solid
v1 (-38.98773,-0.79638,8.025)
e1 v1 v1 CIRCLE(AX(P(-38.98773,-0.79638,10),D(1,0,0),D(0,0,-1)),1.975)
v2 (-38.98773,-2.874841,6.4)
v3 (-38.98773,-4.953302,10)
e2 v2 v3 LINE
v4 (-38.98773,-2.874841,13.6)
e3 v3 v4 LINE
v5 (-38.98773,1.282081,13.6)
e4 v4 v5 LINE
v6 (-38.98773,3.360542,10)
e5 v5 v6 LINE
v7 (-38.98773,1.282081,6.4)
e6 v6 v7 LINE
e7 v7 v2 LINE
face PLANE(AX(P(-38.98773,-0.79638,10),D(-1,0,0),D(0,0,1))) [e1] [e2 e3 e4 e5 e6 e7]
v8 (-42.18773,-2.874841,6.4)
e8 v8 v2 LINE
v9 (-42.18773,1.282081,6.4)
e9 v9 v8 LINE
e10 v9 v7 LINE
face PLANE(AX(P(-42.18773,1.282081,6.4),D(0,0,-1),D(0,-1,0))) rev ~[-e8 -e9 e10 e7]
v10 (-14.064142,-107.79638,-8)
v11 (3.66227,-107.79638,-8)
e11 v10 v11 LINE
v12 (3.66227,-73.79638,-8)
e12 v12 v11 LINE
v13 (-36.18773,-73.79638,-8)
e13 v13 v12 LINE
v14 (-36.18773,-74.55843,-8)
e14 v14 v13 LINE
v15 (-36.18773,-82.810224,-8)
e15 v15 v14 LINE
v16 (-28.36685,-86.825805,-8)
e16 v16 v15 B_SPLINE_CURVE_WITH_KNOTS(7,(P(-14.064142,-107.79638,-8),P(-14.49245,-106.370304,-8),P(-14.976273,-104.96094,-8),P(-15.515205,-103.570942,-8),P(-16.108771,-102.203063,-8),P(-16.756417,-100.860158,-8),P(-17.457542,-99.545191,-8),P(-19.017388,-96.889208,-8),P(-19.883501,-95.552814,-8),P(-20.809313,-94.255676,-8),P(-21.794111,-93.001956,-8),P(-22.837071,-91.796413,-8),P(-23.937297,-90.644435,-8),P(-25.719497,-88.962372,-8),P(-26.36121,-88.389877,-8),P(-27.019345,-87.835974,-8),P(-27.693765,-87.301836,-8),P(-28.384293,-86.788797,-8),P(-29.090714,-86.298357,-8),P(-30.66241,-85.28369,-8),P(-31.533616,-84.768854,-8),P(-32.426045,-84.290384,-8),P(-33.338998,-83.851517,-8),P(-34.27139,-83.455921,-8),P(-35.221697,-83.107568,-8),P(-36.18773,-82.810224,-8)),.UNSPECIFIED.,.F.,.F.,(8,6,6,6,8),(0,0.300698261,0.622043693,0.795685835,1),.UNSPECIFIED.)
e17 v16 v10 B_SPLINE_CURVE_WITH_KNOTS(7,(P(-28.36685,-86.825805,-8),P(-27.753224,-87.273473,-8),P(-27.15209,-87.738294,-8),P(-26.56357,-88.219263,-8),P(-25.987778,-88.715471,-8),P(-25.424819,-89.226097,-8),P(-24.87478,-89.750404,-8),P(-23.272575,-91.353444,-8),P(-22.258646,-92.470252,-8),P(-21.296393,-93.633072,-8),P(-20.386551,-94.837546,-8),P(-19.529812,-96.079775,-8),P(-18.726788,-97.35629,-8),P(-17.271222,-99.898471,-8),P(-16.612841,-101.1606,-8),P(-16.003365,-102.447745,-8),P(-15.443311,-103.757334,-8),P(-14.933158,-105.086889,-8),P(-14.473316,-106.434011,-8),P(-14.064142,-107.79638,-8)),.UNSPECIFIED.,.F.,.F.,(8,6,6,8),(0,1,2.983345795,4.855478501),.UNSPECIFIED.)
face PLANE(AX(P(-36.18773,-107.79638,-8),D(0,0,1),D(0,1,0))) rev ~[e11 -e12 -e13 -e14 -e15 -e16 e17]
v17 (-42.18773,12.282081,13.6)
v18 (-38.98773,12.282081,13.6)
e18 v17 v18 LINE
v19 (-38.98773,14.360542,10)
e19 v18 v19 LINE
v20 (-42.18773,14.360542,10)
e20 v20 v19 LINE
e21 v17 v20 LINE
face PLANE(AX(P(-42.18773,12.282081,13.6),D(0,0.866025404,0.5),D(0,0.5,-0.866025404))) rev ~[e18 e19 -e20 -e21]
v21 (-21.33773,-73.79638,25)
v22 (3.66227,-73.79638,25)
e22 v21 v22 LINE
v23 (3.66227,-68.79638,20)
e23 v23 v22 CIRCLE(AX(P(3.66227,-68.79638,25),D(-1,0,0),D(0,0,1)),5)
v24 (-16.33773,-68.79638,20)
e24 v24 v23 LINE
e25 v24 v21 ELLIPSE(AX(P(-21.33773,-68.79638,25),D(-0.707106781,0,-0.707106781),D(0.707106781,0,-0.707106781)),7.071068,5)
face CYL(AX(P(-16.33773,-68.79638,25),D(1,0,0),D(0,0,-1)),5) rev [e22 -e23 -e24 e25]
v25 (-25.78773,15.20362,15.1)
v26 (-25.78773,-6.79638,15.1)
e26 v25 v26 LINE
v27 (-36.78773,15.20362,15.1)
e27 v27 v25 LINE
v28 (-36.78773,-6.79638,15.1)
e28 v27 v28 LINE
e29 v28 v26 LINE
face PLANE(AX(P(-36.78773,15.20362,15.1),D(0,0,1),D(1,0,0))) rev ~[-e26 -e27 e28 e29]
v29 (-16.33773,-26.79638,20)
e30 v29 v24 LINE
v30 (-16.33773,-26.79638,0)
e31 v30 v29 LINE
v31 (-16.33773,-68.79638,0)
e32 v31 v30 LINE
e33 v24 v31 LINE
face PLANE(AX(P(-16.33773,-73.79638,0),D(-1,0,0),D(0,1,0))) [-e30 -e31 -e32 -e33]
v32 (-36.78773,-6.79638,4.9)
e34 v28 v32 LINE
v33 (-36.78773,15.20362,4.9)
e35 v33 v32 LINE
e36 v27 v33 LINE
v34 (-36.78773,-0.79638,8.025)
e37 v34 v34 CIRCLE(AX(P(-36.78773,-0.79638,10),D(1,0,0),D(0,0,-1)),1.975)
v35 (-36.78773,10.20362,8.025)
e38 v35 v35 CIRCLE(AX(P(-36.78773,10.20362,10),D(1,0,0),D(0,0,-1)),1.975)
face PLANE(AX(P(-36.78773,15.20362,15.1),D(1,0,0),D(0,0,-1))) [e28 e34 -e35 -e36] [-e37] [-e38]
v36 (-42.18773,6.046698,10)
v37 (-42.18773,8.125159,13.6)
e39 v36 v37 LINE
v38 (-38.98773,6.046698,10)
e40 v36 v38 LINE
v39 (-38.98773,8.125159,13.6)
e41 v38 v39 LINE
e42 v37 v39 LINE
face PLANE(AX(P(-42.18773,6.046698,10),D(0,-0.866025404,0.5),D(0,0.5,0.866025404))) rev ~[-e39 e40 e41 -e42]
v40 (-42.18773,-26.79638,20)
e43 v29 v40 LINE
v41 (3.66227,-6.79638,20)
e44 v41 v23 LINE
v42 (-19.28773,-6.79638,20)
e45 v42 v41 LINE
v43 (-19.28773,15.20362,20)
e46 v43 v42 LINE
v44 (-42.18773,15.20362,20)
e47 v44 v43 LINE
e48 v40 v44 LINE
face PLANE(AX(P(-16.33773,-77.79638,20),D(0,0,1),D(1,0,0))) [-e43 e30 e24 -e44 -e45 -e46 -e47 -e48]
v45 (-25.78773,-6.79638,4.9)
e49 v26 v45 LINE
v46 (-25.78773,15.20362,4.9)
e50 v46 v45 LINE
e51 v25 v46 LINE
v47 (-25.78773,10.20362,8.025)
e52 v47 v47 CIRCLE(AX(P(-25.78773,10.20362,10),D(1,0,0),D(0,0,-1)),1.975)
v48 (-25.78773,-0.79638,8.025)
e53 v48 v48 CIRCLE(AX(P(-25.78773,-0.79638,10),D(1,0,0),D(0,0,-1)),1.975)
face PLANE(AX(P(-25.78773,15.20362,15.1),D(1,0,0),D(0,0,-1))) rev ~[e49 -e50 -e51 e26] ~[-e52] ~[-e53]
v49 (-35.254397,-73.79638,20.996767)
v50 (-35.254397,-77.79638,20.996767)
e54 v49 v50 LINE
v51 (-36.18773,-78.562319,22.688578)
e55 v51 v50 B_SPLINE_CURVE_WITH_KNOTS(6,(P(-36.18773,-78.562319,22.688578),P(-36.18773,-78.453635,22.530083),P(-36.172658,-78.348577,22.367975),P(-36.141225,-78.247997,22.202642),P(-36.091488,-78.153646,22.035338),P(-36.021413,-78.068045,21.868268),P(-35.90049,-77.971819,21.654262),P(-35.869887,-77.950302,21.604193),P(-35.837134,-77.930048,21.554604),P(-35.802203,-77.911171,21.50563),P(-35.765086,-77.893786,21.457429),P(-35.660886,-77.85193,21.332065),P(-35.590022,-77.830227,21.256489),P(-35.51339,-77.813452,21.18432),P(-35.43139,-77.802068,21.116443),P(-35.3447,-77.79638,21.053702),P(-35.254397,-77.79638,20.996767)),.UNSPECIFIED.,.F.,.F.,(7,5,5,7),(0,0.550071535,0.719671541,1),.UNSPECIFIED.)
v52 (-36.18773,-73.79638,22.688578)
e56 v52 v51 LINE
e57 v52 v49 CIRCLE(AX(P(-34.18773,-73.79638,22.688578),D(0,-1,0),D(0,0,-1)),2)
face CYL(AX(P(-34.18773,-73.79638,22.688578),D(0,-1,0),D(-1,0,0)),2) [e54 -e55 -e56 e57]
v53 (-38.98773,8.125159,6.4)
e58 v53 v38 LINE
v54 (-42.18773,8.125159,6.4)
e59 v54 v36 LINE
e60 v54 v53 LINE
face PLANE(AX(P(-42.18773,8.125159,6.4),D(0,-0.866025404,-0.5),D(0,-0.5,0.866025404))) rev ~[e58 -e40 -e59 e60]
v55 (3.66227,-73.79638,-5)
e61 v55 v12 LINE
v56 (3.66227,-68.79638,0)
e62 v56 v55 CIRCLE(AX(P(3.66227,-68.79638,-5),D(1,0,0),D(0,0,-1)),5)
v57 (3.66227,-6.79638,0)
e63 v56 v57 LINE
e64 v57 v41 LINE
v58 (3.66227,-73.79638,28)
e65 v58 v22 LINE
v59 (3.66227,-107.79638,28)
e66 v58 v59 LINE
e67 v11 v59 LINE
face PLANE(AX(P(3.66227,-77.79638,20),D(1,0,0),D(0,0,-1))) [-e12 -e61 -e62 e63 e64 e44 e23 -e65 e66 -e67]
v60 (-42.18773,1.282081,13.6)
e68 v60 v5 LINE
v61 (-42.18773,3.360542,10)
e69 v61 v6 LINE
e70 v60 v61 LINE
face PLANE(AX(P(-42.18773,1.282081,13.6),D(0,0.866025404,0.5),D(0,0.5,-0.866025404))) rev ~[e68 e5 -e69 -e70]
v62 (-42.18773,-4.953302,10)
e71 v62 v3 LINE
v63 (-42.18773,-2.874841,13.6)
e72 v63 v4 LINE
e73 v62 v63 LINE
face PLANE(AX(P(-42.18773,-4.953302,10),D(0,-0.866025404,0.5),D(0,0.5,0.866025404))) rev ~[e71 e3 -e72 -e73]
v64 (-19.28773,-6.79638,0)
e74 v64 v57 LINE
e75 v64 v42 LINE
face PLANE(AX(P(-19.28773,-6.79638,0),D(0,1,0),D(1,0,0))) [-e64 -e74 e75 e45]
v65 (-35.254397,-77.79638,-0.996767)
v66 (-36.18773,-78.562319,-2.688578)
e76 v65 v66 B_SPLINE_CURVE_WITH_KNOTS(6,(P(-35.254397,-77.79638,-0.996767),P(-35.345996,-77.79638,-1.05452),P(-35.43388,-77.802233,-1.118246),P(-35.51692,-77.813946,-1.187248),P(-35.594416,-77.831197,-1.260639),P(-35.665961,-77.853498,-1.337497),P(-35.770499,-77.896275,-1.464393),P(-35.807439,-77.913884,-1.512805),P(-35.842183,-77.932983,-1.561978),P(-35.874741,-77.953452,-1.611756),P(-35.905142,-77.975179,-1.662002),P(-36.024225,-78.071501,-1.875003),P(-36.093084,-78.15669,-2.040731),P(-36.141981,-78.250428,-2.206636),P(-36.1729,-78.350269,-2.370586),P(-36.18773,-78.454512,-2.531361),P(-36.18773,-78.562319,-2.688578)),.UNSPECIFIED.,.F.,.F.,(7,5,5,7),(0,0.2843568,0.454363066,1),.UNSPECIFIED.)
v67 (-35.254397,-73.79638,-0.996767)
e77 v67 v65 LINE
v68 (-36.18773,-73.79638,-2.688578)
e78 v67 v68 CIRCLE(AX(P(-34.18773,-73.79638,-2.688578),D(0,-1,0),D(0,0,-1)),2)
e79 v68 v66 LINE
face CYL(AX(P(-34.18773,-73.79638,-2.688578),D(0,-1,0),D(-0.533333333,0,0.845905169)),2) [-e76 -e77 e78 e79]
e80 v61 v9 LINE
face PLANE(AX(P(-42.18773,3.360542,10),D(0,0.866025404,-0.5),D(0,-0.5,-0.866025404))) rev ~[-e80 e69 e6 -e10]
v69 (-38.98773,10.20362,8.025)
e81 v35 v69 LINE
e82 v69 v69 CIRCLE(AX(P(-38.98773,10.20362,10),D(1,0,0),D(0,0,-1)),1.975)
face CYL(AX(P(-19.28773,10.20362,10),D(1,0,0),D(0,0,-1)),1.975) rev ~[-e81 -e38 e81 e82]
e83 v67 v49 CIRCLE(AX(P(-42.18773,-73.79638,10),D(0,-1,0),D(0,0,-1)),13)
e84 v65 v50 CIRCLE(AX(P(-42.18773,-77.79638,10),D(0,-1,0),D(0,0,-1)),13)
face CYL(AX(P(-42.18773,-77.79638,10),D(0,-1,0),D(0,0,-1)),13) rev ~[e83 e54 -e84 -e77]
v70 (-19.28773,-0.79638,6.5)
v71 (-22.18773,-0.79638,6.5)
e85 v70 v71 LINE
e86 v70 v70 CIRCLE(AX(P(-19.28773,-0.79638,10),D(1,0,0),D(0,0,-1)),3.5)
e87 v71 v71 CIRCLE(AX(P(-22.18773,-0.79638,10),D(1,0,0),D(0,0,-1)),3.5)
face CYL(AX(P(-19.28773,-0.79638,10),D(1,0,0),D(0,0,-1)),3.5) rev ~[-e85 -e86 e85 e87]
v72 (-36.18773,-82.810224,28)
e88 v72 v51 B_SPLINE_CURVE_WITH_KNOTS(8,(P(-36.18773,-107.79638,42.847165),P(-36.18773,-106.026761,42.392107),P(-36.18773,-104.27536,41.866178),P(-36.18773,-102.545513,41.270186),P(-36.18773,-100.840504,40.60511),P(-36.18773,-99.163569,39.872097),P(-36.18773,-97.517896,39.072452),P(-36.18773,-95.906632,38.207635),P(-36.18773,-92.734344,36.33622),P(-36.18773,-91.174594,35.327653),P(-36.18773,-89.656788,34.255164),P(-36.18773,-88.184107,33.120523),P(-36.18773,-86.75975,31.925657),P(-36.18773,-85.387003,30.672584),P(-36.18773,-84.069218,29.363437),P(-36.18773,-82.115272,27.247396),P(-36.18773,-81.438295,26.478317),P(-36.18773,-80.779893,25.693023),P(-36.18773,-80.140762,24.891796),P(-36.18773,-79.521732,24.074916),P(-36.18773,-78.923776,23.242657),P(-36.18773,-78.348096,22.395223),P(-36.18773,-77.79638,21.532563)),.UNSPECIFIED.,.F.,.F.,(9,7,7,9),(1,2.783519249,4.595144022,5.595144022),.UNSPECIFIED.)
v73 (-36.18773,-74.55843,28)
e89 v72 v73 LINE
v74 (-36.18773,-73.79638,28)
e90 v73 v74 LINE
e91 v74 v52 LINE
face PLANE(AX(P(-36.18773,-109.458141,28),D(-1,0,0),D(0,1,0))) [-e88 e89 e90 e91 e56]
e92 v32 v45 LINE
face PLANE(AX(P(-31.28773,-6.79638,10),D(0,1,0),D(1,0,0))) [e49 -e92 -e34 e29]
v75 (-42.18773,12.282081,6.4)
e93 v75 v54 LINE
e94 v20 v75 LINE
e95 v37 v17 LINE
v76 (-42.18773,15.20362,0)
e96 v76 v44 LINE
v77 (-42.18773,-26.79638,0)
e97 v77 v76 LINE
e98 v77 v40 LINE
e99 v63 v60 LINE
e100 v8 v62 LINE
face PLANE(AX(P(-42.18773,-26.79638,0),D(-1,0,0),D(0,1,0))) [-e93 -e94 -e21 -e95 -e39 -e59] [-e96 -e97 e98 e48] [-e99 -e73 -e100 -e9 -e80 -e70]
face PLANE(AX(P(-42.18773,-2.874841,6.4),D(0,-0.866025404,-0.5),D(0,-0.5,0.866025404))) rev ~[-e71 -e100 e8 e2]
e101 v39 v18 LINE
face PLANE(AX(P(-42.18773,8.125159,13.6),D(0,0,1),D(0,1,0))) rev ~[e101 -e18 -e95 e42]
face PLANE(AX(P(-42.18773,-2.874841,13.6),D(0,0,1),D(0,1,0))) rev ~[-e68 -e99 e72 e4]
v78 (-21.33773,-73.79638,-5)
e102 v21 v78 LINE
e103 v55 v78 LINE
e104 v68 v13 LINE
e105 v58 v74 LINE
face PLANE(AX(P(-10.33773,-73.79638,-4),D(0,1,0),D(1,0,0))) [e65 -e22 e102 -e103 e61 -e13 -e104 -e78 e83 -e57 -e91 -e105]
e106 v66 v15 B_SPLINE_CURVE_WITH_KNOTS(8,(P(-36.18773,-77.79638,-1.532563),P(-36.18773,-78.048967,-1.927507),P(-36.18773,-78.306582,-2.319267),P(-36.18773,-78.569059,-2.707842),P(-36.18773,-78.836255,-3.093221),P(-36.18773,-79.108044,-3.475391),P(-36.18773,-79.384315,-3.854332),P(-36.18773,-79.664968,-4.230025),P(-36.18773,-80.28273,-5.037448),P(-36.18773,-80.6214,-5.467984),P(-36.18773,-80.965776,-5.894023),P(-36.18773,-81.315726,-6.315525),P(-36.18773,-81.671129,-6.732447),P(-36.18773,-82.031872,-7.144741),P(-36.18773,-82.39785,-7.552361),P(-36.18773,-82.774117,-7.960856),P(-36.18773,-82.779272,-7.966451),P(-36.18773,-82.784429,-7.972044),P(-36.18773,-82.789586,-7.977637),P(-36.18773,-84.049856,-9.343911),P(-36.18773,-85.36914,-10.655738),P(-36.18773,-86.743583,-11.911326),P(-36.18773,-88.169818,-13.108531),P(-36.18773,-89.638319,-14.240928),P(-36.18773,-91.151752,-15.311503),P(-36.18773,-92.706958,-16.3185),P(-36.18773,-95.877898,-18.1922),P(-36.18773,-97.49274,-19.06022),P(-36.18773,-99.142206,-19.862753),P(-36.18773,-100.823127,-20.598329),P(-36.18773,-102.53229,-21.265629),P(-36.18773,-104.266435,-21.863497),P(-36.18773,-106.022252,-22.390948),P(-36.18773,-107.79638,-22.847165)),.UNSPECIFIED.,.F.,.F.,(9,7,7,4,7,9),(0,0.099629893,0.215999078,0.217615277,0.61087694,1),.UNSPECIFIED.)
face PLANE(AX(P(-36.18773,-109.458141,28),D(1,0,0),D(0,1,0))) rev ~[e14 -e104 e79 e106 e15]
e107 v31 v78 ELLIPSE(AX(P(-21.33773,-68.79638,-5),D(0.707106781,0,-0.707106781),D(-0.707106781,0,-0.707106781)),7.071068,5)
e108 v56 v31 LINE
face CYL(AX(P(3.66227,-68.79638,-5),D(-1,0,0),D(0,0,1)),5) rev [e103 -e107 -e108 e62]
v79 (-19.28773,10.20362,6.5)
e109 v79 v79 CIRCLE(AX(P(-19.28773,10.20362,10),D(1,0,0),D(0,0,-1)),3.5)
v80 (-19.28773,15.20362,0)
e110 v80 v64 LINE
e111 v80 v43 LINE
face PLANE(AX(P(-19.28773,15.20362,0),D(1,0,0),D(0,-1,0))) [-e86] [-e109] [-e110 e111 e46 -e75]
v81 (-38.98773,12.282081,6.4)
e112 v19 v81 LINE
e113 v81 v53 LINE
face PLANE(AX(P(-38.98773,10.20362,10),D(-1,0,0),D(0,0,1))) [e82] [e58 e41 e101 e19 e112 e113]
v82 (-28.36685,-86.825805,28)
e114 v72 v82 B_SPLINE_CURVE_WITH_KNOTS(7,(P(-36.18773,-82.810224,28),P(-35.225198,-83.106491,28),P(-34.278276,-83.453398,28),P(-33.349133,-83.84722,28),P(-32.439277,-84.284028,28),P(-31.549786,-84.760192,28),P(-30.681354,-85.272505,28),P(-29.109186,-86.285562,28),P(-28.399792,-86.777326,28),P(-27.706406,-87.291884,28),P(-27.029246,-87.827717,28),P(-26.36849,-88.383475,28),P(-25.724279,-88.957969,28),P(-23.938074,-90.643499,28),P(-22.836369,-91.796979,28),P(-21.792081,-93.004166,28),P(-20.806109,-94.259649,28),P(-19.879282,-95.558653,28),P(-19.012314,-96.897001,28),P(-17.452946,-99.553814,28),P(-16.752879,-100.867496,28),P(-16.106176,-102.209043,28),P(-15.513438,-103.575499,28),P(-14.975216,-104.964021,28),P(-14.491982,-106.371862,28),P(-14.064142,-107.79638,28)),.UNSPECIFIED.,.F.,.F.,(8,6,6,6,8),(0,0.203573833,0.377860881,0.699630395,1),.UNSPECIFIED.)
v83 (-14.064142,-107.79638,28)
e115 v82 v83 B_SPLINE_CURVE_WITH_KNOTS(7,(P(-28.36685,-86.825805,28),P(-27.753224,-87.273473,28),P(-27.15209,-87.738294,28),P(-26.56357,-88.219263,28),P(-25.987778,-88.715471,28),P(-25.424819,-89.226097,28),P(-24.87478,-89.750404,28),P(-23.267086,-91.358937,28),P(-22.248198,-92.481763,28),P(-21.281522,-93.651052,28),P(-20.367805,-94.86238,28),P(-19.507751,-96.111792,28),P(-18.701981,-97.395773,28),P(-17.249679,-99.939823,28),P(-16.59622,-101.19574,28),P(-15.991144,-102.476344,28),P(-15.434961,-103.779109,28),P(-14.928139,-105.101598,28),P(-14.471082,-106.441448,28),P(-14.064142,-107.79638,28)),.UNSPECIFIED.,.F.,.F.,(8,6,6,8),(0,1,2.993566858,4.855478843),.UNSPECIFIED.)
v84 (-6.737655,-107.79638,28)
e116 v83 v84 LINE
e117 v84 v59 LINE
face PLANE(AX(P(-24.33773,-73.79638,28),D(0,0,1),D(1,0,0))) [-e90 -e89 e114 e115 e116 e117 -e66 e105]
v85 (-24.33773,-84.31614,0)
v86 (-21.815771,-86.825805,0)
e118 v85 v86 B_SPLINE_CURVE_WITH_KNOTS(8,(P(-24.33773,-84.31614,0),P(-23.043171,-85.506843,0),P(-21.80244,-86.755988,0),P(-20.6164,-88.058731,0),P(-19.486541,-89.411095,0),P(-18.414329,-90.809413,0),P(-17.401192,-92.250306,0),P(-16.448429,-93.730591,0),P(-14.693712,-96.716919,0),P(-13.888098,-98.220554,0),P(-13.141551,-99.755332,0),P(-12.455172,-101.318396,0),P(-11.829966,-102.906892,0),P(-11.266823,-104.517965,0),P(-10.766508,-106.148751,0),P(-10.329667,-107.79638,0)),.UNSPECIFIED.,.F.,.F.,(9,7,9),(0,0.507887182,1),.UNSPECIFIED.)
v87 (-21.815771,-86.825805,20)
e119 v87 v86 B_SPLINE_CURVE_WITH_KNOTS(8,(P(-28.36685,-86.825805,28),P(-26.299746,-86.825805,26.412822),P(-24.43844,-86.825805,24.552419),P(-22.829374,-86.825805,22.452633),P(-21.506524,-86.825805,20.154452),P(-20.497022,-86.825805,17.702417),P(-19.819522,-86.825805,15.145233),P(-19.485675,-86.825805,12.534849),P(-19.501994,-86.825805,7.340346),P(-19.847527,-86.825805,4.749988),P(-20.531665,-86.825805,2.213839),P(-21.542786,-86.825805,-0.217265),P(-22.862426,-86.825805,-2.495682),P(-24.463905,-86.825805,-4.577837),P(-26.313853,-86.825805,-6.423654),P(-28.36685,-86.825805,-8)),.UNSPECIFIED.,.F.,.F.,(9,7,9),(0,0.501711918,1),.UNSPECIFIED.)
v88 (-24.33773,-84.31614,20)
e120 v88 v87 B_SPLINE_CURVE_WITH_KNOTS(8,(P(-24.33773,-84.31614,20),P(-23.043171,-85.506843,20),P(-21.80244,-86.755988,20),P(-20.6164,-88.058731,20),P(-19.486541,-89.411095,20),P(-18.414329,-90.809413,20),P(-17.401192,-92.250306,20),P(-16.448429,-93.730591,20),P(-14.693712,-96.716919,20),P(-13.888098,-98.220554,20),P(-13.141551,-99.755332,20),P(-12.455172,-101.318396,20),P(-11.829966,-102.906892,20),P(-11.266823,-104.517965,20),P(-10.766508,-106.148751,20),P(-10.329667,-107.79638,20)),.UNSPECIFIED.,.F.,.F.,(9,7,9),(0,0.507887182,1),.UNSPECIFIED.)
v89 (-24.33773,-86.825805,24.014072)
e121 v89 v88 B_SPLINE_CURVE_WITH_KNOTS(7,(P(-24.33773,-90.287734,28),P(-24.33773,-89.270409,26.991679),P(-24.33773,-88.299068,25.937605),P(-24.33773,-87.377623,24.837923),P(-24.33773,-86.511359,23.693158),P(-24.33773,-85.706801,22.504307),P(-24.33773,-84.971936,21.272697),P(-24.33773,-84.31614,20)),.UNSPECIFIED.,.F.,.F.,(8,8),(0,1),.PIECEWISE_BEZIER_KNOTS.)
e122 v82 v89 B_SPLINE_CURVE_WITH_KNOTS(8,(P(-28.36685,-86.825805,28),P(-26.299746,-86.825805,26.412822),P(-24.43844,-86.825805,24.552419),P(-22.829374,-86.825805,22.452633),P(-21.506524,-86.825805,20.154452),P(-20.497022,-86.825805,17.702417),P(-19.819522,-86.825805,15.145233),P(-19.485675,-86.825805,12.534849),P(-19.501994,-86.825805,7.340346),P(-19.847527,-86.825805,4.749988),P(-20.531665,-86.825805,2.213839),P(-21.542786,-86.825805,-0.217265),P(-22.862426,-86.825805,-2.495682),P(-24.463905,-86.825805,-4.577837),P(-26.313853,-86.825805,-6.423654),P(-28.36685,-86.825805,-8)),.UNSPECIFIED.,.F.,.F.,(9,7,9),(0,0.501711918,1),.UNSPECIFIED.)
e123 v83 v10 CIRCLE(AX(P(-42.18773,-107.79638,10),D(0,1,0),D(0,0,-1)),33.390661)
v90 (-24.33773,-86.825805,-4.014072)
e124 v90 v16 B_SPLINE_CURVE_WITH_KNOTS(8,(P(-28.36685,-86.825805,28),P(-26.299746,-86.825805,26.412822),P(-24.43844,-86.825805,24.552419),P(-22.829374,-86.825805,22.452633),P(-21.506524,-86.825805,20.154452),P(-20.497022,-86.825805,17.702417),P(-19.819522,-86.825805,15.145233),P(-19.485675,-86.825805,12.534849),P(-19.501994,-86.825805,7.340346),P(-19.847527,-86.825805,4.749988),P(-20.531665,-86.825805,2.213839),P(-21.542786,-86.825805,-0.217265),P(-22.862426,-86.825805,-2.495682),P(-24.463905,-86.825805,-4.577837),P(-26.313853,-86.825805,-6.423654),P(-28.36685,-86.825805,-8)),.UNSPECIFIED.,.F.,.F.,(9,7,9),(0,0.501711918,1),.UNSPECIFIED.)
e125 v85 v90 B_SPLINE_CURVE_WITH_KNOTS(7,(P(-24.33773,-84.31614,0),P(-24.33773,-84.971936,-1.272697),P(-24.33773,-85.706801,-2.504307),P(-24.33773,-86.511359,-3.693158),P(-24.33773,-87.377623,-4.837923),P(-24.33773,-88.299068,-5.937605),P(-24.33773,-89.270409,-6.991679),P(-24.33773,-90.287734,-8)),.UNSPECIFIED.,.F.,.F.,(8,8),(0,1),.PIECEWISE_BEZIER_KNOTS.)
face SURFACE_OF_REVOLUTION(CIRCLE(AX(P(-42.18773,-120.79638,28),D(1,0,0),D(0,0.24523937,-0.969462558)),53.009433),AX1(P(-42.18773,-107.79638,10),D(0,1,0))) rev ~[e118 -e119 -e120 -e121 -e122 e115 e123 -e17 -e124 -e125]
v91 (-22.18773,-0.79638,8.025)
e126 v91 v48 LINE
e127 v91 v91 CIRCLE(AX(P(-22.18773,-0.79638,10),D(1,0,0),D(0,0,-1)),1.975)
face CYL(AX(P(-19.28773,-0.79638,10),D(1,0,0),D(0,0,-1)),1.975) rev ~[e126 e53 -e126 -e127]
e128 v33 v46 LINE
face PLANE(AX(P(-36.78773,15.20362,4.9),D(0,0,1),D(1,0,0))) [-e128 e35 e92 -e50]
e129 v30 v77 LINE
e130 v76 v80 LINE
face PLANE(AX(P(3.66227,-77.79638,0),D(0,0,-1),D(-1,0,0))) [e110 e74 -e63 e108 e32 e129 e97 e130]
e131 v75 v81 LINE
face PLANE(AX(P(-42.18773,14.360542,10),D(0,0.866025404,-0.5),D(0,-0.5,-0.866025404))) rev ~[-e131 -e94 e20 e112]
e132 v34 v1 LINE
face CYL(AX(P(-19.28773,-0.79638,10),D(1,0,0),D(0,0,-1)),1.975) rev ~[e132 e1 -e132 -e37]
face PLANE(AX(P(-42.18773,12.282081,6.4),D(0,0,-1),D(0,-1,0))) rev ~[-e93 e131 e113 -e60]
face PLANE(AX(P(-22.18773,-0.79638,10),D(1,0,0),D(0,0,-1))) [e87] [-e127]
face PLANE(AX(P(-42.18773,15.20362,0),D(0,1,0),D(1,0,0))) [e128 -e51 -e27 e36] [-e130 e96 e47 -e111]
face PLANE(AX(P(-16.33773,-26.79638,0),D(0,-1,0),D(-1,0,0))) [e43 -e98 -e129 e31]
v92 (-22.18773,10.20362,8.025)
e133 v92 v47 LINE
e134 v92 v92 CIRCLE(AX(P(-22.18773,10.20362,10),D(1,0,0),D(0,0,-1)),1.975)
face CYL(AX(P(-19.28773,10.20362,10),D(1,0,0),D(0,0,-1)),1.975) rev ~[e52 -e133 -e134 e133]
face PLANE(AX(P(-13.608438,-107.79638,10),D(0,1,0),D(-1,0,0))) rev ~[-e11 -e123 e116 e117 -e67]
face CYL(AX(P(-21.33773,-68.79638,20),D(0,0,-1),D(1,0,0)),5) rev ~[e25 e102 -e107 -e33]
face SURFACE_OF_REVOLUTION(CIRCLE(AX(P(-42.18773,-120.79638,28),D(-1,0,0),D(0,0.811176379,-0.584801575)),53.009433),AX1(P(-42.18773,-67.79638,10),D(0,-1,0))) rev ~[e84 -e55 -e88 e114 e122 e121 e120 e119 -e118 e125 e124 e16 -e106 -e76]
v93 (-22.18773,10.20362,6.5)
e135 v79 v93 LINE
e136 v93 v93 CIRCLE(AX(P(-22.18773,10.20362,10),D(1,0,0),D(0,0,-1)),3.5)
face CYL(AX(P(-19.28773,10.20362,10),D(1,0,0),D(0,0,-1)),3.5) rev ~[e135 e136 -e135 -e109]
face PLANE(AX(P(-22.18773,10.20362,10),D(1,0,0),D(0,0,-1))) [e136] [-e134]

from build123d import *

# Parameters (mm, degrees)
EXTRUDE_6_DEPTH           = 20
SKETCH_6_W                = 17.85
SKETCH_6_H                = 4
EXTRUDE_7_DEPTH           = 8
SKETCH_7_W                = 17.85
SKETCH_7_H                = 4
EXTRUDE_8_DEPTH           = 8
SKETCH_10_R               = 1.975
CUT_EXTRUDE_5_DEPTH       = 23.9
SKETCH_9_W                = 11
SKETCH_9_H                = 10.2
CUT_EXTRUDE_7_DEPTH       = 22
SKETCH_12_R               = 3.5
CUT_EXTRUDE_8_DEPTH       = 2.9
CUT_EXTRUDE_9_DEPTH       = 3.2
EXTRUDE_11_DEPTH          = 4
EXTRUDE_START             = -20
EXTRUDE_12_DEPTH          = 20
CUT_EXTRUDE_12_DEPTH      = 10
SKETCH_20_W               = 6
SKETCH_20_H               = 4
CUT_EXTRUDE_13_DEPTH      = 10
REVOLVE_1_ANGLE           = 180
EXTRUDE_13_DEPTH          = 30
SKETCH_38_W               = 28
SKETCH_38_H               = 8
EXTRUDE_14_DEPTH          = 34
SKETCH_37_W               = 8.80839151
SKETCH_37_H               = 35.661760673
CUT_EXTRUDE_15_DEPTH      = 22.758116413
CUT_EXTRUDE_15_DEPTH_BACK = 58.758116413
SKETCH_40_W               = 21.302771057
SKETCH_40_H               = 34
CUT_EXTRUDE_16_DEPTH      = 7
CUT_EXTRUDE_16_DEPTH_BACK = 40.8500001
SKETCH_42_W               = 6
SKETCH_42_H               = 6
CUT_EXTRUDE_17_DEPTH      = 29.0000001
FILLET_1_R                = 5
FILLET_2_R                = 2


with BuildPart() as part:
    # 스케치1 → 보스-돌출6 (new body)
    with BuildSketch(Plane.XY):
        Polygon((-42.18773019, 15.20361991), (-19.28773019, 15.20361991), (-19.28773019, -6.79638009), (3.66226981, -6.79638009), (3.66226981, -77.79638009), (-42.18773019, -77.79638009), (-42.18773019, -73.79638009), (-16.33773019, -73.79638009), (-16.33773019, -26.79638009), (-42.18773019, -26.79638009), align=None)
    extrude(amount=EXTRUDE_6_DEPTH)

    # 스케치6 → 보스-돌출7 (add)
    with BuildSketch(Plane.XY.offset(20)):
        with Locations((-33.26273019, -75.79638009)):
            Rectangle(SKETCH_6_W, SKETCH_6_H)
    extrude(amount=EXTRUDE_7_DEPTH)

    # 스케치7 → 보스-돌출8 (add)
    with BuildSketch(Plane(origin=(0, 0, 0), x_dir=(-1, 0, 0), z_dir=(0, 0, -1))):
        with Locations((33.26273019, -75.79638009)):
            Rectangle(SKETCH_7_W, SKETCH_7_H)
    extrude(amount=EXTRUDE_8_DEPTH)

    # 스케치10 → 컷-돌출5 (cut, through all)
    with BuildSketch(Plane(origin=(-19.28773019, 0, 0), x_dir=(0, 0, -1), z_dir=(1, 0, 0))):
        with Locations((-10, 10.20361991)):
            Circle(SKETCH_10_R)
        with Locations((-10, -0.79638009)):
            Circle(SKETCH_10_R)
    extrude(amount=-CUT_EXTRUDE_5_DEPTH, mode=Mode.SUBTRACT)

    # 스케치9 → 컷-돌출7 (cut)
    with BuildSketch(Plane(origin=(0, 15.20361991, 0), x_dir=(1, 0, 0), z_dir=(0, 1, 0))):
        with Locations((-31.28773019, -10)):
            Rectangle(SKETCH_9_W, SKETCH_9_H)
    extrude(amount=-CUT_EXTRUDE_7_DEPTH, mode=Mode.SUBTRACT)

    # 스케치12 → 컷-돌출8 (cut)
    with BuildSketch(Plane(origin=(-19.28773019, 0, 0), x_dir=(0, 0, -1), z_dir=(1, 0, 0))):
        with Locations((-10, 10.20361991)):
            Circle(SKETCH_12_R)
        with Locations((-10, -0.79638009)):
            Circle(SKETCH_12_R)
    extrude(amount=-CUT_EXTRUDE_8_DEPTH, mode=Mode.SUBTRACT)

    # 스케치13 → 컷-돌출9 (cut)
    with BuildSketch(Plane.ZY.offset(42.18773019)):
        Polygon((10, 14.360541848), (6.4, 12.282080879), (6.4, 8.12515894), (10, 6.046697971), (13.6, 8.12515894), (13.6, 12.282080879), align=None)
        Polygon((10, 3.360541848), (6.4, 1.282080879), (6.4, -2.87484106), (10, -4.953302029), (13.6, -2.87484106), (13.6, 1.282080879), align=None)
    extrude(amount=-CUT_EXTRUDE_9_DEPTH, mode=Mode.SUBTRACT)

    # 스케치16 → 보스-돌출11 (add)
    with BuildSketch(Plane(origin=(0, -73.79638009, 0), x_dir=(1, 0, 0), z_dir=(0, 1, 0))):
        with BuildLine():
            Line((-16.33773019, -20), (-24.33773019, -20))
            Line((-24.33773019, -20), (-24.33773019, -28))
            ThreePointArc((-24.33773019, -28), (-18.680875941, -25.656854249), (-16.33773019, -20))
        make_face()
        with BuildLine():
            Line((-16.33773019, 0), (-24.33773019, 0))
            Line((-24.33773019, 0), (-24.33773019, 8))
            ThreePointArc((-24.33773019, 8), (-18.680875941, 5.656854249), (-16.33773019, 0))
        make_face()
    extrude(amount=-EXTRUDE_11_DEPTH)

    # 스케치17 → 보스-돌출12 (add)
    with BuildSketch(Plane.XY.offset(20).offset(EXTRUDE_START)):
        with BuildLine():
            Line((-22.33773019, -73.79638009), (-16.33773019, -73.79638009))
            Line((-16.33773019, -73.79638009), (-16.33773019, -67.79638009))
            ThreePointArc((-16.33773019, -67.79638009), (-18.095089503, -72.039020778), (-22.33773019, -73.79638009))
        make_face()
    extrude(amount=EXTRUDE_12_DEPTH)

    # 스케치8 → 컷-돌출12 (cut)
    with BuildSketch(Plane.XZ.offset(77.79638009)):
        with BuildLine():
            Line((-42.18773019, 23), (-42.18773019, -3))
            ThreePointArc((-42.18773019, -3), (-29.18773019, 10), (-42.18773019, 23))
        make_face()
    extrude(amount=-CUT_EXTRUDE_12_DEPTH, mode=Mode.SUBTRACT)

    # 스케치20 → 컷-돌출13 (cut)
    with BuildSketch(Plane.XY.offset(28)):
        with Locations((-39.18773019, -75.79638009)):
            Rectangle(SKETCH_20_W, SKETCH_20_H)
    extrude(amount=-CUT_EXTRUDE_13_DEPTH, mode=Mode.SUBTRACT)

    # 스케치32 → 회전1 (revolve)
    with BuildSketch(Plane.ZY.offset(42.18773019)):
        with BuildLine():
            Line((-8, -77.79638009), (-3, -77.79638009))
            ThreePointArc((-3, -77.79638009), (-15.841250436, -90.997978116), (-23.39066063, -107.79638009))
            Line((-23.39066063, -107.79638009), (-29.758116313, -107.79638009))
            ThreePointArc((-29.758116313, -107.79638009), (-21.866282132, -88.884722246), (-8, -73.79638009))
            Line((-8, -73.79638009), (-8, -77.79638009))
        make_face()
    revolve(axis=Axis((-42.18773019, -67.79638009, 10), (0, -1, 0)), revolution_arc=REVOLVE_1_ANGLE)

    # 스케치33 → 보스-돌출13 (add)
    with BuildSketch(Plane.XZ.offset(77.79638009)):
        with BuildLine():
            Line((3.66226981, 20), (3.66226981, 0))
            Line((3.66226981, 0), (-16.33773019, 0))
            ThreePointArc((-16.33773019, 0), (-18.680875941, -5.656854249), (-24.33773019, -8))
            Line((-24.33773019, -8), (-28.366850202, -8))
            ThreePointArc((-28.366850202, -8), (-19.493750292, 10), (-28.366850202, 28))
            Line((-28.366850202, 28), (-24.33773019, 28))
            ThreePointArc((-24.33773019, 28), (-18.680875941, 25.656854249), (-16.33773019, 20))
            Line((-16.33773019, 20), (3.66226981, 20))
        make_face()
    extrude(amount=EXTRUDE_13_DEPTH)

    # 스케치38 → 보스-돌출14 (add)
    with BuildSketch(Plane(origin=(0, -73.79638009, 0), x_dir=(1, 0, 0), z_dir=(0, 1, 0))):
        with Locations((-10.33773019, 4)):
            Rectangle(SKETCH_38_W, SKETCH_38_H)
        with Locations((-10.33773019, -24)):
            Rectangle(SKETCH_38_W, SKETCH_38_H)
    extrude(amount=-EXTRUDE_14_DEPTH)

    # 스케치39 → 컷-회전1 (revolve, cut)
    with BuildSketch(Plane.ZY.offset(42.18773019)):
        with BuildLine():
            Line((10, -107.79638009), (-23.39066063, -107.79638009))
            ThreePointArc((-23.39066063, -107.79638009), (-15.841250436, -90.997978116), (-3, -77.79638009))
            Line((-3, -77.79638009), (10, -77.79638009))
            Line((10, -77.79638009), (10, -107.79638009))
        make_face()
    revolve(axis=Axis((-42.18773019, -107.79638009, 10), (0, 1, 0)), mode=Mode.SUBTRACT)

    # 스케치37 → 컷-돌출15 (cut, two sides)
    with BuildSketch(Plane.XY.offset(28)) as cut_extrude_15_sk:
        with Locations((-40.591925945, -91.627260427)):
            Rectangle(SKETCH_37_W, SKETCH_37_H)
    extrude(amount=CUT_EXTRUDE_15_DEPTH, mode=Mode.SUBTRACT)
    extrude(cut_extrude_15_sk.sketch, amount=-CUT_EXTRUDE_15_DEPTH_BACK, mode=Mode.SUBTRACT)

    # 스케치40 → 컷-돌출16 (cut, two sides)
    with BuildSketch(Plane.ZY.offset(36.18773019)) as cut_extrude_16_sk:
        with Locations((-18.651385529, -90.79638009)):
            Rectangle(SKETCH_40_W, SKETCH_40_H)
        with Locations((38.651385529, -90.79638009)):
            Rectangle(SKETCH_40_W, SKETCH_40_H)
    extrude(amount=CUT_EXTRUDE_16_DEPTH, mode=Mode.SUBTRACT)
    extrude(cut_extrude_16_sk.sketch, amount=-CUT_EXTRUDE_16_DEPTH_BACK, mode=Mode.SUBTRACT)

    # 스케치42 → 컷-돌출17 (cut, through all)
    with BuildSketch(Plane.XY.offset(20)):
        with Locations((-19.33773019, -70.79638009)):
            Rectangle(SKETCH_42_W, SKETCH_42_H)
    extrude(amount=-CUT_EXTRUDE_17_DEPTH, mode=Mode.SUBTRACT)

    # 필렛1
    fillet_1_edges = [part.edges().sort_by_distance(p)[0] for p in [
        (-6.33773019, -73.79638009, 20),
        (-6.33773019, -73.79638009, 0),
        (-16.33773019, -73.79638009, 10),
    ]]
    fillet(fillet_1_edges, radius=FILLET_1_R)

    # 필렛2
    fillet_2_edges = [part.edges().sort_by_distance(p)[0] for p in [
        (-36.18773019, -75.79638009, 21.532562595),
        (-36.18773019, -75.79638009, -1.532562595),
    ]]
    fillet(fillet_2_edges, radius=FILLET_2_R)


solid = part.part
